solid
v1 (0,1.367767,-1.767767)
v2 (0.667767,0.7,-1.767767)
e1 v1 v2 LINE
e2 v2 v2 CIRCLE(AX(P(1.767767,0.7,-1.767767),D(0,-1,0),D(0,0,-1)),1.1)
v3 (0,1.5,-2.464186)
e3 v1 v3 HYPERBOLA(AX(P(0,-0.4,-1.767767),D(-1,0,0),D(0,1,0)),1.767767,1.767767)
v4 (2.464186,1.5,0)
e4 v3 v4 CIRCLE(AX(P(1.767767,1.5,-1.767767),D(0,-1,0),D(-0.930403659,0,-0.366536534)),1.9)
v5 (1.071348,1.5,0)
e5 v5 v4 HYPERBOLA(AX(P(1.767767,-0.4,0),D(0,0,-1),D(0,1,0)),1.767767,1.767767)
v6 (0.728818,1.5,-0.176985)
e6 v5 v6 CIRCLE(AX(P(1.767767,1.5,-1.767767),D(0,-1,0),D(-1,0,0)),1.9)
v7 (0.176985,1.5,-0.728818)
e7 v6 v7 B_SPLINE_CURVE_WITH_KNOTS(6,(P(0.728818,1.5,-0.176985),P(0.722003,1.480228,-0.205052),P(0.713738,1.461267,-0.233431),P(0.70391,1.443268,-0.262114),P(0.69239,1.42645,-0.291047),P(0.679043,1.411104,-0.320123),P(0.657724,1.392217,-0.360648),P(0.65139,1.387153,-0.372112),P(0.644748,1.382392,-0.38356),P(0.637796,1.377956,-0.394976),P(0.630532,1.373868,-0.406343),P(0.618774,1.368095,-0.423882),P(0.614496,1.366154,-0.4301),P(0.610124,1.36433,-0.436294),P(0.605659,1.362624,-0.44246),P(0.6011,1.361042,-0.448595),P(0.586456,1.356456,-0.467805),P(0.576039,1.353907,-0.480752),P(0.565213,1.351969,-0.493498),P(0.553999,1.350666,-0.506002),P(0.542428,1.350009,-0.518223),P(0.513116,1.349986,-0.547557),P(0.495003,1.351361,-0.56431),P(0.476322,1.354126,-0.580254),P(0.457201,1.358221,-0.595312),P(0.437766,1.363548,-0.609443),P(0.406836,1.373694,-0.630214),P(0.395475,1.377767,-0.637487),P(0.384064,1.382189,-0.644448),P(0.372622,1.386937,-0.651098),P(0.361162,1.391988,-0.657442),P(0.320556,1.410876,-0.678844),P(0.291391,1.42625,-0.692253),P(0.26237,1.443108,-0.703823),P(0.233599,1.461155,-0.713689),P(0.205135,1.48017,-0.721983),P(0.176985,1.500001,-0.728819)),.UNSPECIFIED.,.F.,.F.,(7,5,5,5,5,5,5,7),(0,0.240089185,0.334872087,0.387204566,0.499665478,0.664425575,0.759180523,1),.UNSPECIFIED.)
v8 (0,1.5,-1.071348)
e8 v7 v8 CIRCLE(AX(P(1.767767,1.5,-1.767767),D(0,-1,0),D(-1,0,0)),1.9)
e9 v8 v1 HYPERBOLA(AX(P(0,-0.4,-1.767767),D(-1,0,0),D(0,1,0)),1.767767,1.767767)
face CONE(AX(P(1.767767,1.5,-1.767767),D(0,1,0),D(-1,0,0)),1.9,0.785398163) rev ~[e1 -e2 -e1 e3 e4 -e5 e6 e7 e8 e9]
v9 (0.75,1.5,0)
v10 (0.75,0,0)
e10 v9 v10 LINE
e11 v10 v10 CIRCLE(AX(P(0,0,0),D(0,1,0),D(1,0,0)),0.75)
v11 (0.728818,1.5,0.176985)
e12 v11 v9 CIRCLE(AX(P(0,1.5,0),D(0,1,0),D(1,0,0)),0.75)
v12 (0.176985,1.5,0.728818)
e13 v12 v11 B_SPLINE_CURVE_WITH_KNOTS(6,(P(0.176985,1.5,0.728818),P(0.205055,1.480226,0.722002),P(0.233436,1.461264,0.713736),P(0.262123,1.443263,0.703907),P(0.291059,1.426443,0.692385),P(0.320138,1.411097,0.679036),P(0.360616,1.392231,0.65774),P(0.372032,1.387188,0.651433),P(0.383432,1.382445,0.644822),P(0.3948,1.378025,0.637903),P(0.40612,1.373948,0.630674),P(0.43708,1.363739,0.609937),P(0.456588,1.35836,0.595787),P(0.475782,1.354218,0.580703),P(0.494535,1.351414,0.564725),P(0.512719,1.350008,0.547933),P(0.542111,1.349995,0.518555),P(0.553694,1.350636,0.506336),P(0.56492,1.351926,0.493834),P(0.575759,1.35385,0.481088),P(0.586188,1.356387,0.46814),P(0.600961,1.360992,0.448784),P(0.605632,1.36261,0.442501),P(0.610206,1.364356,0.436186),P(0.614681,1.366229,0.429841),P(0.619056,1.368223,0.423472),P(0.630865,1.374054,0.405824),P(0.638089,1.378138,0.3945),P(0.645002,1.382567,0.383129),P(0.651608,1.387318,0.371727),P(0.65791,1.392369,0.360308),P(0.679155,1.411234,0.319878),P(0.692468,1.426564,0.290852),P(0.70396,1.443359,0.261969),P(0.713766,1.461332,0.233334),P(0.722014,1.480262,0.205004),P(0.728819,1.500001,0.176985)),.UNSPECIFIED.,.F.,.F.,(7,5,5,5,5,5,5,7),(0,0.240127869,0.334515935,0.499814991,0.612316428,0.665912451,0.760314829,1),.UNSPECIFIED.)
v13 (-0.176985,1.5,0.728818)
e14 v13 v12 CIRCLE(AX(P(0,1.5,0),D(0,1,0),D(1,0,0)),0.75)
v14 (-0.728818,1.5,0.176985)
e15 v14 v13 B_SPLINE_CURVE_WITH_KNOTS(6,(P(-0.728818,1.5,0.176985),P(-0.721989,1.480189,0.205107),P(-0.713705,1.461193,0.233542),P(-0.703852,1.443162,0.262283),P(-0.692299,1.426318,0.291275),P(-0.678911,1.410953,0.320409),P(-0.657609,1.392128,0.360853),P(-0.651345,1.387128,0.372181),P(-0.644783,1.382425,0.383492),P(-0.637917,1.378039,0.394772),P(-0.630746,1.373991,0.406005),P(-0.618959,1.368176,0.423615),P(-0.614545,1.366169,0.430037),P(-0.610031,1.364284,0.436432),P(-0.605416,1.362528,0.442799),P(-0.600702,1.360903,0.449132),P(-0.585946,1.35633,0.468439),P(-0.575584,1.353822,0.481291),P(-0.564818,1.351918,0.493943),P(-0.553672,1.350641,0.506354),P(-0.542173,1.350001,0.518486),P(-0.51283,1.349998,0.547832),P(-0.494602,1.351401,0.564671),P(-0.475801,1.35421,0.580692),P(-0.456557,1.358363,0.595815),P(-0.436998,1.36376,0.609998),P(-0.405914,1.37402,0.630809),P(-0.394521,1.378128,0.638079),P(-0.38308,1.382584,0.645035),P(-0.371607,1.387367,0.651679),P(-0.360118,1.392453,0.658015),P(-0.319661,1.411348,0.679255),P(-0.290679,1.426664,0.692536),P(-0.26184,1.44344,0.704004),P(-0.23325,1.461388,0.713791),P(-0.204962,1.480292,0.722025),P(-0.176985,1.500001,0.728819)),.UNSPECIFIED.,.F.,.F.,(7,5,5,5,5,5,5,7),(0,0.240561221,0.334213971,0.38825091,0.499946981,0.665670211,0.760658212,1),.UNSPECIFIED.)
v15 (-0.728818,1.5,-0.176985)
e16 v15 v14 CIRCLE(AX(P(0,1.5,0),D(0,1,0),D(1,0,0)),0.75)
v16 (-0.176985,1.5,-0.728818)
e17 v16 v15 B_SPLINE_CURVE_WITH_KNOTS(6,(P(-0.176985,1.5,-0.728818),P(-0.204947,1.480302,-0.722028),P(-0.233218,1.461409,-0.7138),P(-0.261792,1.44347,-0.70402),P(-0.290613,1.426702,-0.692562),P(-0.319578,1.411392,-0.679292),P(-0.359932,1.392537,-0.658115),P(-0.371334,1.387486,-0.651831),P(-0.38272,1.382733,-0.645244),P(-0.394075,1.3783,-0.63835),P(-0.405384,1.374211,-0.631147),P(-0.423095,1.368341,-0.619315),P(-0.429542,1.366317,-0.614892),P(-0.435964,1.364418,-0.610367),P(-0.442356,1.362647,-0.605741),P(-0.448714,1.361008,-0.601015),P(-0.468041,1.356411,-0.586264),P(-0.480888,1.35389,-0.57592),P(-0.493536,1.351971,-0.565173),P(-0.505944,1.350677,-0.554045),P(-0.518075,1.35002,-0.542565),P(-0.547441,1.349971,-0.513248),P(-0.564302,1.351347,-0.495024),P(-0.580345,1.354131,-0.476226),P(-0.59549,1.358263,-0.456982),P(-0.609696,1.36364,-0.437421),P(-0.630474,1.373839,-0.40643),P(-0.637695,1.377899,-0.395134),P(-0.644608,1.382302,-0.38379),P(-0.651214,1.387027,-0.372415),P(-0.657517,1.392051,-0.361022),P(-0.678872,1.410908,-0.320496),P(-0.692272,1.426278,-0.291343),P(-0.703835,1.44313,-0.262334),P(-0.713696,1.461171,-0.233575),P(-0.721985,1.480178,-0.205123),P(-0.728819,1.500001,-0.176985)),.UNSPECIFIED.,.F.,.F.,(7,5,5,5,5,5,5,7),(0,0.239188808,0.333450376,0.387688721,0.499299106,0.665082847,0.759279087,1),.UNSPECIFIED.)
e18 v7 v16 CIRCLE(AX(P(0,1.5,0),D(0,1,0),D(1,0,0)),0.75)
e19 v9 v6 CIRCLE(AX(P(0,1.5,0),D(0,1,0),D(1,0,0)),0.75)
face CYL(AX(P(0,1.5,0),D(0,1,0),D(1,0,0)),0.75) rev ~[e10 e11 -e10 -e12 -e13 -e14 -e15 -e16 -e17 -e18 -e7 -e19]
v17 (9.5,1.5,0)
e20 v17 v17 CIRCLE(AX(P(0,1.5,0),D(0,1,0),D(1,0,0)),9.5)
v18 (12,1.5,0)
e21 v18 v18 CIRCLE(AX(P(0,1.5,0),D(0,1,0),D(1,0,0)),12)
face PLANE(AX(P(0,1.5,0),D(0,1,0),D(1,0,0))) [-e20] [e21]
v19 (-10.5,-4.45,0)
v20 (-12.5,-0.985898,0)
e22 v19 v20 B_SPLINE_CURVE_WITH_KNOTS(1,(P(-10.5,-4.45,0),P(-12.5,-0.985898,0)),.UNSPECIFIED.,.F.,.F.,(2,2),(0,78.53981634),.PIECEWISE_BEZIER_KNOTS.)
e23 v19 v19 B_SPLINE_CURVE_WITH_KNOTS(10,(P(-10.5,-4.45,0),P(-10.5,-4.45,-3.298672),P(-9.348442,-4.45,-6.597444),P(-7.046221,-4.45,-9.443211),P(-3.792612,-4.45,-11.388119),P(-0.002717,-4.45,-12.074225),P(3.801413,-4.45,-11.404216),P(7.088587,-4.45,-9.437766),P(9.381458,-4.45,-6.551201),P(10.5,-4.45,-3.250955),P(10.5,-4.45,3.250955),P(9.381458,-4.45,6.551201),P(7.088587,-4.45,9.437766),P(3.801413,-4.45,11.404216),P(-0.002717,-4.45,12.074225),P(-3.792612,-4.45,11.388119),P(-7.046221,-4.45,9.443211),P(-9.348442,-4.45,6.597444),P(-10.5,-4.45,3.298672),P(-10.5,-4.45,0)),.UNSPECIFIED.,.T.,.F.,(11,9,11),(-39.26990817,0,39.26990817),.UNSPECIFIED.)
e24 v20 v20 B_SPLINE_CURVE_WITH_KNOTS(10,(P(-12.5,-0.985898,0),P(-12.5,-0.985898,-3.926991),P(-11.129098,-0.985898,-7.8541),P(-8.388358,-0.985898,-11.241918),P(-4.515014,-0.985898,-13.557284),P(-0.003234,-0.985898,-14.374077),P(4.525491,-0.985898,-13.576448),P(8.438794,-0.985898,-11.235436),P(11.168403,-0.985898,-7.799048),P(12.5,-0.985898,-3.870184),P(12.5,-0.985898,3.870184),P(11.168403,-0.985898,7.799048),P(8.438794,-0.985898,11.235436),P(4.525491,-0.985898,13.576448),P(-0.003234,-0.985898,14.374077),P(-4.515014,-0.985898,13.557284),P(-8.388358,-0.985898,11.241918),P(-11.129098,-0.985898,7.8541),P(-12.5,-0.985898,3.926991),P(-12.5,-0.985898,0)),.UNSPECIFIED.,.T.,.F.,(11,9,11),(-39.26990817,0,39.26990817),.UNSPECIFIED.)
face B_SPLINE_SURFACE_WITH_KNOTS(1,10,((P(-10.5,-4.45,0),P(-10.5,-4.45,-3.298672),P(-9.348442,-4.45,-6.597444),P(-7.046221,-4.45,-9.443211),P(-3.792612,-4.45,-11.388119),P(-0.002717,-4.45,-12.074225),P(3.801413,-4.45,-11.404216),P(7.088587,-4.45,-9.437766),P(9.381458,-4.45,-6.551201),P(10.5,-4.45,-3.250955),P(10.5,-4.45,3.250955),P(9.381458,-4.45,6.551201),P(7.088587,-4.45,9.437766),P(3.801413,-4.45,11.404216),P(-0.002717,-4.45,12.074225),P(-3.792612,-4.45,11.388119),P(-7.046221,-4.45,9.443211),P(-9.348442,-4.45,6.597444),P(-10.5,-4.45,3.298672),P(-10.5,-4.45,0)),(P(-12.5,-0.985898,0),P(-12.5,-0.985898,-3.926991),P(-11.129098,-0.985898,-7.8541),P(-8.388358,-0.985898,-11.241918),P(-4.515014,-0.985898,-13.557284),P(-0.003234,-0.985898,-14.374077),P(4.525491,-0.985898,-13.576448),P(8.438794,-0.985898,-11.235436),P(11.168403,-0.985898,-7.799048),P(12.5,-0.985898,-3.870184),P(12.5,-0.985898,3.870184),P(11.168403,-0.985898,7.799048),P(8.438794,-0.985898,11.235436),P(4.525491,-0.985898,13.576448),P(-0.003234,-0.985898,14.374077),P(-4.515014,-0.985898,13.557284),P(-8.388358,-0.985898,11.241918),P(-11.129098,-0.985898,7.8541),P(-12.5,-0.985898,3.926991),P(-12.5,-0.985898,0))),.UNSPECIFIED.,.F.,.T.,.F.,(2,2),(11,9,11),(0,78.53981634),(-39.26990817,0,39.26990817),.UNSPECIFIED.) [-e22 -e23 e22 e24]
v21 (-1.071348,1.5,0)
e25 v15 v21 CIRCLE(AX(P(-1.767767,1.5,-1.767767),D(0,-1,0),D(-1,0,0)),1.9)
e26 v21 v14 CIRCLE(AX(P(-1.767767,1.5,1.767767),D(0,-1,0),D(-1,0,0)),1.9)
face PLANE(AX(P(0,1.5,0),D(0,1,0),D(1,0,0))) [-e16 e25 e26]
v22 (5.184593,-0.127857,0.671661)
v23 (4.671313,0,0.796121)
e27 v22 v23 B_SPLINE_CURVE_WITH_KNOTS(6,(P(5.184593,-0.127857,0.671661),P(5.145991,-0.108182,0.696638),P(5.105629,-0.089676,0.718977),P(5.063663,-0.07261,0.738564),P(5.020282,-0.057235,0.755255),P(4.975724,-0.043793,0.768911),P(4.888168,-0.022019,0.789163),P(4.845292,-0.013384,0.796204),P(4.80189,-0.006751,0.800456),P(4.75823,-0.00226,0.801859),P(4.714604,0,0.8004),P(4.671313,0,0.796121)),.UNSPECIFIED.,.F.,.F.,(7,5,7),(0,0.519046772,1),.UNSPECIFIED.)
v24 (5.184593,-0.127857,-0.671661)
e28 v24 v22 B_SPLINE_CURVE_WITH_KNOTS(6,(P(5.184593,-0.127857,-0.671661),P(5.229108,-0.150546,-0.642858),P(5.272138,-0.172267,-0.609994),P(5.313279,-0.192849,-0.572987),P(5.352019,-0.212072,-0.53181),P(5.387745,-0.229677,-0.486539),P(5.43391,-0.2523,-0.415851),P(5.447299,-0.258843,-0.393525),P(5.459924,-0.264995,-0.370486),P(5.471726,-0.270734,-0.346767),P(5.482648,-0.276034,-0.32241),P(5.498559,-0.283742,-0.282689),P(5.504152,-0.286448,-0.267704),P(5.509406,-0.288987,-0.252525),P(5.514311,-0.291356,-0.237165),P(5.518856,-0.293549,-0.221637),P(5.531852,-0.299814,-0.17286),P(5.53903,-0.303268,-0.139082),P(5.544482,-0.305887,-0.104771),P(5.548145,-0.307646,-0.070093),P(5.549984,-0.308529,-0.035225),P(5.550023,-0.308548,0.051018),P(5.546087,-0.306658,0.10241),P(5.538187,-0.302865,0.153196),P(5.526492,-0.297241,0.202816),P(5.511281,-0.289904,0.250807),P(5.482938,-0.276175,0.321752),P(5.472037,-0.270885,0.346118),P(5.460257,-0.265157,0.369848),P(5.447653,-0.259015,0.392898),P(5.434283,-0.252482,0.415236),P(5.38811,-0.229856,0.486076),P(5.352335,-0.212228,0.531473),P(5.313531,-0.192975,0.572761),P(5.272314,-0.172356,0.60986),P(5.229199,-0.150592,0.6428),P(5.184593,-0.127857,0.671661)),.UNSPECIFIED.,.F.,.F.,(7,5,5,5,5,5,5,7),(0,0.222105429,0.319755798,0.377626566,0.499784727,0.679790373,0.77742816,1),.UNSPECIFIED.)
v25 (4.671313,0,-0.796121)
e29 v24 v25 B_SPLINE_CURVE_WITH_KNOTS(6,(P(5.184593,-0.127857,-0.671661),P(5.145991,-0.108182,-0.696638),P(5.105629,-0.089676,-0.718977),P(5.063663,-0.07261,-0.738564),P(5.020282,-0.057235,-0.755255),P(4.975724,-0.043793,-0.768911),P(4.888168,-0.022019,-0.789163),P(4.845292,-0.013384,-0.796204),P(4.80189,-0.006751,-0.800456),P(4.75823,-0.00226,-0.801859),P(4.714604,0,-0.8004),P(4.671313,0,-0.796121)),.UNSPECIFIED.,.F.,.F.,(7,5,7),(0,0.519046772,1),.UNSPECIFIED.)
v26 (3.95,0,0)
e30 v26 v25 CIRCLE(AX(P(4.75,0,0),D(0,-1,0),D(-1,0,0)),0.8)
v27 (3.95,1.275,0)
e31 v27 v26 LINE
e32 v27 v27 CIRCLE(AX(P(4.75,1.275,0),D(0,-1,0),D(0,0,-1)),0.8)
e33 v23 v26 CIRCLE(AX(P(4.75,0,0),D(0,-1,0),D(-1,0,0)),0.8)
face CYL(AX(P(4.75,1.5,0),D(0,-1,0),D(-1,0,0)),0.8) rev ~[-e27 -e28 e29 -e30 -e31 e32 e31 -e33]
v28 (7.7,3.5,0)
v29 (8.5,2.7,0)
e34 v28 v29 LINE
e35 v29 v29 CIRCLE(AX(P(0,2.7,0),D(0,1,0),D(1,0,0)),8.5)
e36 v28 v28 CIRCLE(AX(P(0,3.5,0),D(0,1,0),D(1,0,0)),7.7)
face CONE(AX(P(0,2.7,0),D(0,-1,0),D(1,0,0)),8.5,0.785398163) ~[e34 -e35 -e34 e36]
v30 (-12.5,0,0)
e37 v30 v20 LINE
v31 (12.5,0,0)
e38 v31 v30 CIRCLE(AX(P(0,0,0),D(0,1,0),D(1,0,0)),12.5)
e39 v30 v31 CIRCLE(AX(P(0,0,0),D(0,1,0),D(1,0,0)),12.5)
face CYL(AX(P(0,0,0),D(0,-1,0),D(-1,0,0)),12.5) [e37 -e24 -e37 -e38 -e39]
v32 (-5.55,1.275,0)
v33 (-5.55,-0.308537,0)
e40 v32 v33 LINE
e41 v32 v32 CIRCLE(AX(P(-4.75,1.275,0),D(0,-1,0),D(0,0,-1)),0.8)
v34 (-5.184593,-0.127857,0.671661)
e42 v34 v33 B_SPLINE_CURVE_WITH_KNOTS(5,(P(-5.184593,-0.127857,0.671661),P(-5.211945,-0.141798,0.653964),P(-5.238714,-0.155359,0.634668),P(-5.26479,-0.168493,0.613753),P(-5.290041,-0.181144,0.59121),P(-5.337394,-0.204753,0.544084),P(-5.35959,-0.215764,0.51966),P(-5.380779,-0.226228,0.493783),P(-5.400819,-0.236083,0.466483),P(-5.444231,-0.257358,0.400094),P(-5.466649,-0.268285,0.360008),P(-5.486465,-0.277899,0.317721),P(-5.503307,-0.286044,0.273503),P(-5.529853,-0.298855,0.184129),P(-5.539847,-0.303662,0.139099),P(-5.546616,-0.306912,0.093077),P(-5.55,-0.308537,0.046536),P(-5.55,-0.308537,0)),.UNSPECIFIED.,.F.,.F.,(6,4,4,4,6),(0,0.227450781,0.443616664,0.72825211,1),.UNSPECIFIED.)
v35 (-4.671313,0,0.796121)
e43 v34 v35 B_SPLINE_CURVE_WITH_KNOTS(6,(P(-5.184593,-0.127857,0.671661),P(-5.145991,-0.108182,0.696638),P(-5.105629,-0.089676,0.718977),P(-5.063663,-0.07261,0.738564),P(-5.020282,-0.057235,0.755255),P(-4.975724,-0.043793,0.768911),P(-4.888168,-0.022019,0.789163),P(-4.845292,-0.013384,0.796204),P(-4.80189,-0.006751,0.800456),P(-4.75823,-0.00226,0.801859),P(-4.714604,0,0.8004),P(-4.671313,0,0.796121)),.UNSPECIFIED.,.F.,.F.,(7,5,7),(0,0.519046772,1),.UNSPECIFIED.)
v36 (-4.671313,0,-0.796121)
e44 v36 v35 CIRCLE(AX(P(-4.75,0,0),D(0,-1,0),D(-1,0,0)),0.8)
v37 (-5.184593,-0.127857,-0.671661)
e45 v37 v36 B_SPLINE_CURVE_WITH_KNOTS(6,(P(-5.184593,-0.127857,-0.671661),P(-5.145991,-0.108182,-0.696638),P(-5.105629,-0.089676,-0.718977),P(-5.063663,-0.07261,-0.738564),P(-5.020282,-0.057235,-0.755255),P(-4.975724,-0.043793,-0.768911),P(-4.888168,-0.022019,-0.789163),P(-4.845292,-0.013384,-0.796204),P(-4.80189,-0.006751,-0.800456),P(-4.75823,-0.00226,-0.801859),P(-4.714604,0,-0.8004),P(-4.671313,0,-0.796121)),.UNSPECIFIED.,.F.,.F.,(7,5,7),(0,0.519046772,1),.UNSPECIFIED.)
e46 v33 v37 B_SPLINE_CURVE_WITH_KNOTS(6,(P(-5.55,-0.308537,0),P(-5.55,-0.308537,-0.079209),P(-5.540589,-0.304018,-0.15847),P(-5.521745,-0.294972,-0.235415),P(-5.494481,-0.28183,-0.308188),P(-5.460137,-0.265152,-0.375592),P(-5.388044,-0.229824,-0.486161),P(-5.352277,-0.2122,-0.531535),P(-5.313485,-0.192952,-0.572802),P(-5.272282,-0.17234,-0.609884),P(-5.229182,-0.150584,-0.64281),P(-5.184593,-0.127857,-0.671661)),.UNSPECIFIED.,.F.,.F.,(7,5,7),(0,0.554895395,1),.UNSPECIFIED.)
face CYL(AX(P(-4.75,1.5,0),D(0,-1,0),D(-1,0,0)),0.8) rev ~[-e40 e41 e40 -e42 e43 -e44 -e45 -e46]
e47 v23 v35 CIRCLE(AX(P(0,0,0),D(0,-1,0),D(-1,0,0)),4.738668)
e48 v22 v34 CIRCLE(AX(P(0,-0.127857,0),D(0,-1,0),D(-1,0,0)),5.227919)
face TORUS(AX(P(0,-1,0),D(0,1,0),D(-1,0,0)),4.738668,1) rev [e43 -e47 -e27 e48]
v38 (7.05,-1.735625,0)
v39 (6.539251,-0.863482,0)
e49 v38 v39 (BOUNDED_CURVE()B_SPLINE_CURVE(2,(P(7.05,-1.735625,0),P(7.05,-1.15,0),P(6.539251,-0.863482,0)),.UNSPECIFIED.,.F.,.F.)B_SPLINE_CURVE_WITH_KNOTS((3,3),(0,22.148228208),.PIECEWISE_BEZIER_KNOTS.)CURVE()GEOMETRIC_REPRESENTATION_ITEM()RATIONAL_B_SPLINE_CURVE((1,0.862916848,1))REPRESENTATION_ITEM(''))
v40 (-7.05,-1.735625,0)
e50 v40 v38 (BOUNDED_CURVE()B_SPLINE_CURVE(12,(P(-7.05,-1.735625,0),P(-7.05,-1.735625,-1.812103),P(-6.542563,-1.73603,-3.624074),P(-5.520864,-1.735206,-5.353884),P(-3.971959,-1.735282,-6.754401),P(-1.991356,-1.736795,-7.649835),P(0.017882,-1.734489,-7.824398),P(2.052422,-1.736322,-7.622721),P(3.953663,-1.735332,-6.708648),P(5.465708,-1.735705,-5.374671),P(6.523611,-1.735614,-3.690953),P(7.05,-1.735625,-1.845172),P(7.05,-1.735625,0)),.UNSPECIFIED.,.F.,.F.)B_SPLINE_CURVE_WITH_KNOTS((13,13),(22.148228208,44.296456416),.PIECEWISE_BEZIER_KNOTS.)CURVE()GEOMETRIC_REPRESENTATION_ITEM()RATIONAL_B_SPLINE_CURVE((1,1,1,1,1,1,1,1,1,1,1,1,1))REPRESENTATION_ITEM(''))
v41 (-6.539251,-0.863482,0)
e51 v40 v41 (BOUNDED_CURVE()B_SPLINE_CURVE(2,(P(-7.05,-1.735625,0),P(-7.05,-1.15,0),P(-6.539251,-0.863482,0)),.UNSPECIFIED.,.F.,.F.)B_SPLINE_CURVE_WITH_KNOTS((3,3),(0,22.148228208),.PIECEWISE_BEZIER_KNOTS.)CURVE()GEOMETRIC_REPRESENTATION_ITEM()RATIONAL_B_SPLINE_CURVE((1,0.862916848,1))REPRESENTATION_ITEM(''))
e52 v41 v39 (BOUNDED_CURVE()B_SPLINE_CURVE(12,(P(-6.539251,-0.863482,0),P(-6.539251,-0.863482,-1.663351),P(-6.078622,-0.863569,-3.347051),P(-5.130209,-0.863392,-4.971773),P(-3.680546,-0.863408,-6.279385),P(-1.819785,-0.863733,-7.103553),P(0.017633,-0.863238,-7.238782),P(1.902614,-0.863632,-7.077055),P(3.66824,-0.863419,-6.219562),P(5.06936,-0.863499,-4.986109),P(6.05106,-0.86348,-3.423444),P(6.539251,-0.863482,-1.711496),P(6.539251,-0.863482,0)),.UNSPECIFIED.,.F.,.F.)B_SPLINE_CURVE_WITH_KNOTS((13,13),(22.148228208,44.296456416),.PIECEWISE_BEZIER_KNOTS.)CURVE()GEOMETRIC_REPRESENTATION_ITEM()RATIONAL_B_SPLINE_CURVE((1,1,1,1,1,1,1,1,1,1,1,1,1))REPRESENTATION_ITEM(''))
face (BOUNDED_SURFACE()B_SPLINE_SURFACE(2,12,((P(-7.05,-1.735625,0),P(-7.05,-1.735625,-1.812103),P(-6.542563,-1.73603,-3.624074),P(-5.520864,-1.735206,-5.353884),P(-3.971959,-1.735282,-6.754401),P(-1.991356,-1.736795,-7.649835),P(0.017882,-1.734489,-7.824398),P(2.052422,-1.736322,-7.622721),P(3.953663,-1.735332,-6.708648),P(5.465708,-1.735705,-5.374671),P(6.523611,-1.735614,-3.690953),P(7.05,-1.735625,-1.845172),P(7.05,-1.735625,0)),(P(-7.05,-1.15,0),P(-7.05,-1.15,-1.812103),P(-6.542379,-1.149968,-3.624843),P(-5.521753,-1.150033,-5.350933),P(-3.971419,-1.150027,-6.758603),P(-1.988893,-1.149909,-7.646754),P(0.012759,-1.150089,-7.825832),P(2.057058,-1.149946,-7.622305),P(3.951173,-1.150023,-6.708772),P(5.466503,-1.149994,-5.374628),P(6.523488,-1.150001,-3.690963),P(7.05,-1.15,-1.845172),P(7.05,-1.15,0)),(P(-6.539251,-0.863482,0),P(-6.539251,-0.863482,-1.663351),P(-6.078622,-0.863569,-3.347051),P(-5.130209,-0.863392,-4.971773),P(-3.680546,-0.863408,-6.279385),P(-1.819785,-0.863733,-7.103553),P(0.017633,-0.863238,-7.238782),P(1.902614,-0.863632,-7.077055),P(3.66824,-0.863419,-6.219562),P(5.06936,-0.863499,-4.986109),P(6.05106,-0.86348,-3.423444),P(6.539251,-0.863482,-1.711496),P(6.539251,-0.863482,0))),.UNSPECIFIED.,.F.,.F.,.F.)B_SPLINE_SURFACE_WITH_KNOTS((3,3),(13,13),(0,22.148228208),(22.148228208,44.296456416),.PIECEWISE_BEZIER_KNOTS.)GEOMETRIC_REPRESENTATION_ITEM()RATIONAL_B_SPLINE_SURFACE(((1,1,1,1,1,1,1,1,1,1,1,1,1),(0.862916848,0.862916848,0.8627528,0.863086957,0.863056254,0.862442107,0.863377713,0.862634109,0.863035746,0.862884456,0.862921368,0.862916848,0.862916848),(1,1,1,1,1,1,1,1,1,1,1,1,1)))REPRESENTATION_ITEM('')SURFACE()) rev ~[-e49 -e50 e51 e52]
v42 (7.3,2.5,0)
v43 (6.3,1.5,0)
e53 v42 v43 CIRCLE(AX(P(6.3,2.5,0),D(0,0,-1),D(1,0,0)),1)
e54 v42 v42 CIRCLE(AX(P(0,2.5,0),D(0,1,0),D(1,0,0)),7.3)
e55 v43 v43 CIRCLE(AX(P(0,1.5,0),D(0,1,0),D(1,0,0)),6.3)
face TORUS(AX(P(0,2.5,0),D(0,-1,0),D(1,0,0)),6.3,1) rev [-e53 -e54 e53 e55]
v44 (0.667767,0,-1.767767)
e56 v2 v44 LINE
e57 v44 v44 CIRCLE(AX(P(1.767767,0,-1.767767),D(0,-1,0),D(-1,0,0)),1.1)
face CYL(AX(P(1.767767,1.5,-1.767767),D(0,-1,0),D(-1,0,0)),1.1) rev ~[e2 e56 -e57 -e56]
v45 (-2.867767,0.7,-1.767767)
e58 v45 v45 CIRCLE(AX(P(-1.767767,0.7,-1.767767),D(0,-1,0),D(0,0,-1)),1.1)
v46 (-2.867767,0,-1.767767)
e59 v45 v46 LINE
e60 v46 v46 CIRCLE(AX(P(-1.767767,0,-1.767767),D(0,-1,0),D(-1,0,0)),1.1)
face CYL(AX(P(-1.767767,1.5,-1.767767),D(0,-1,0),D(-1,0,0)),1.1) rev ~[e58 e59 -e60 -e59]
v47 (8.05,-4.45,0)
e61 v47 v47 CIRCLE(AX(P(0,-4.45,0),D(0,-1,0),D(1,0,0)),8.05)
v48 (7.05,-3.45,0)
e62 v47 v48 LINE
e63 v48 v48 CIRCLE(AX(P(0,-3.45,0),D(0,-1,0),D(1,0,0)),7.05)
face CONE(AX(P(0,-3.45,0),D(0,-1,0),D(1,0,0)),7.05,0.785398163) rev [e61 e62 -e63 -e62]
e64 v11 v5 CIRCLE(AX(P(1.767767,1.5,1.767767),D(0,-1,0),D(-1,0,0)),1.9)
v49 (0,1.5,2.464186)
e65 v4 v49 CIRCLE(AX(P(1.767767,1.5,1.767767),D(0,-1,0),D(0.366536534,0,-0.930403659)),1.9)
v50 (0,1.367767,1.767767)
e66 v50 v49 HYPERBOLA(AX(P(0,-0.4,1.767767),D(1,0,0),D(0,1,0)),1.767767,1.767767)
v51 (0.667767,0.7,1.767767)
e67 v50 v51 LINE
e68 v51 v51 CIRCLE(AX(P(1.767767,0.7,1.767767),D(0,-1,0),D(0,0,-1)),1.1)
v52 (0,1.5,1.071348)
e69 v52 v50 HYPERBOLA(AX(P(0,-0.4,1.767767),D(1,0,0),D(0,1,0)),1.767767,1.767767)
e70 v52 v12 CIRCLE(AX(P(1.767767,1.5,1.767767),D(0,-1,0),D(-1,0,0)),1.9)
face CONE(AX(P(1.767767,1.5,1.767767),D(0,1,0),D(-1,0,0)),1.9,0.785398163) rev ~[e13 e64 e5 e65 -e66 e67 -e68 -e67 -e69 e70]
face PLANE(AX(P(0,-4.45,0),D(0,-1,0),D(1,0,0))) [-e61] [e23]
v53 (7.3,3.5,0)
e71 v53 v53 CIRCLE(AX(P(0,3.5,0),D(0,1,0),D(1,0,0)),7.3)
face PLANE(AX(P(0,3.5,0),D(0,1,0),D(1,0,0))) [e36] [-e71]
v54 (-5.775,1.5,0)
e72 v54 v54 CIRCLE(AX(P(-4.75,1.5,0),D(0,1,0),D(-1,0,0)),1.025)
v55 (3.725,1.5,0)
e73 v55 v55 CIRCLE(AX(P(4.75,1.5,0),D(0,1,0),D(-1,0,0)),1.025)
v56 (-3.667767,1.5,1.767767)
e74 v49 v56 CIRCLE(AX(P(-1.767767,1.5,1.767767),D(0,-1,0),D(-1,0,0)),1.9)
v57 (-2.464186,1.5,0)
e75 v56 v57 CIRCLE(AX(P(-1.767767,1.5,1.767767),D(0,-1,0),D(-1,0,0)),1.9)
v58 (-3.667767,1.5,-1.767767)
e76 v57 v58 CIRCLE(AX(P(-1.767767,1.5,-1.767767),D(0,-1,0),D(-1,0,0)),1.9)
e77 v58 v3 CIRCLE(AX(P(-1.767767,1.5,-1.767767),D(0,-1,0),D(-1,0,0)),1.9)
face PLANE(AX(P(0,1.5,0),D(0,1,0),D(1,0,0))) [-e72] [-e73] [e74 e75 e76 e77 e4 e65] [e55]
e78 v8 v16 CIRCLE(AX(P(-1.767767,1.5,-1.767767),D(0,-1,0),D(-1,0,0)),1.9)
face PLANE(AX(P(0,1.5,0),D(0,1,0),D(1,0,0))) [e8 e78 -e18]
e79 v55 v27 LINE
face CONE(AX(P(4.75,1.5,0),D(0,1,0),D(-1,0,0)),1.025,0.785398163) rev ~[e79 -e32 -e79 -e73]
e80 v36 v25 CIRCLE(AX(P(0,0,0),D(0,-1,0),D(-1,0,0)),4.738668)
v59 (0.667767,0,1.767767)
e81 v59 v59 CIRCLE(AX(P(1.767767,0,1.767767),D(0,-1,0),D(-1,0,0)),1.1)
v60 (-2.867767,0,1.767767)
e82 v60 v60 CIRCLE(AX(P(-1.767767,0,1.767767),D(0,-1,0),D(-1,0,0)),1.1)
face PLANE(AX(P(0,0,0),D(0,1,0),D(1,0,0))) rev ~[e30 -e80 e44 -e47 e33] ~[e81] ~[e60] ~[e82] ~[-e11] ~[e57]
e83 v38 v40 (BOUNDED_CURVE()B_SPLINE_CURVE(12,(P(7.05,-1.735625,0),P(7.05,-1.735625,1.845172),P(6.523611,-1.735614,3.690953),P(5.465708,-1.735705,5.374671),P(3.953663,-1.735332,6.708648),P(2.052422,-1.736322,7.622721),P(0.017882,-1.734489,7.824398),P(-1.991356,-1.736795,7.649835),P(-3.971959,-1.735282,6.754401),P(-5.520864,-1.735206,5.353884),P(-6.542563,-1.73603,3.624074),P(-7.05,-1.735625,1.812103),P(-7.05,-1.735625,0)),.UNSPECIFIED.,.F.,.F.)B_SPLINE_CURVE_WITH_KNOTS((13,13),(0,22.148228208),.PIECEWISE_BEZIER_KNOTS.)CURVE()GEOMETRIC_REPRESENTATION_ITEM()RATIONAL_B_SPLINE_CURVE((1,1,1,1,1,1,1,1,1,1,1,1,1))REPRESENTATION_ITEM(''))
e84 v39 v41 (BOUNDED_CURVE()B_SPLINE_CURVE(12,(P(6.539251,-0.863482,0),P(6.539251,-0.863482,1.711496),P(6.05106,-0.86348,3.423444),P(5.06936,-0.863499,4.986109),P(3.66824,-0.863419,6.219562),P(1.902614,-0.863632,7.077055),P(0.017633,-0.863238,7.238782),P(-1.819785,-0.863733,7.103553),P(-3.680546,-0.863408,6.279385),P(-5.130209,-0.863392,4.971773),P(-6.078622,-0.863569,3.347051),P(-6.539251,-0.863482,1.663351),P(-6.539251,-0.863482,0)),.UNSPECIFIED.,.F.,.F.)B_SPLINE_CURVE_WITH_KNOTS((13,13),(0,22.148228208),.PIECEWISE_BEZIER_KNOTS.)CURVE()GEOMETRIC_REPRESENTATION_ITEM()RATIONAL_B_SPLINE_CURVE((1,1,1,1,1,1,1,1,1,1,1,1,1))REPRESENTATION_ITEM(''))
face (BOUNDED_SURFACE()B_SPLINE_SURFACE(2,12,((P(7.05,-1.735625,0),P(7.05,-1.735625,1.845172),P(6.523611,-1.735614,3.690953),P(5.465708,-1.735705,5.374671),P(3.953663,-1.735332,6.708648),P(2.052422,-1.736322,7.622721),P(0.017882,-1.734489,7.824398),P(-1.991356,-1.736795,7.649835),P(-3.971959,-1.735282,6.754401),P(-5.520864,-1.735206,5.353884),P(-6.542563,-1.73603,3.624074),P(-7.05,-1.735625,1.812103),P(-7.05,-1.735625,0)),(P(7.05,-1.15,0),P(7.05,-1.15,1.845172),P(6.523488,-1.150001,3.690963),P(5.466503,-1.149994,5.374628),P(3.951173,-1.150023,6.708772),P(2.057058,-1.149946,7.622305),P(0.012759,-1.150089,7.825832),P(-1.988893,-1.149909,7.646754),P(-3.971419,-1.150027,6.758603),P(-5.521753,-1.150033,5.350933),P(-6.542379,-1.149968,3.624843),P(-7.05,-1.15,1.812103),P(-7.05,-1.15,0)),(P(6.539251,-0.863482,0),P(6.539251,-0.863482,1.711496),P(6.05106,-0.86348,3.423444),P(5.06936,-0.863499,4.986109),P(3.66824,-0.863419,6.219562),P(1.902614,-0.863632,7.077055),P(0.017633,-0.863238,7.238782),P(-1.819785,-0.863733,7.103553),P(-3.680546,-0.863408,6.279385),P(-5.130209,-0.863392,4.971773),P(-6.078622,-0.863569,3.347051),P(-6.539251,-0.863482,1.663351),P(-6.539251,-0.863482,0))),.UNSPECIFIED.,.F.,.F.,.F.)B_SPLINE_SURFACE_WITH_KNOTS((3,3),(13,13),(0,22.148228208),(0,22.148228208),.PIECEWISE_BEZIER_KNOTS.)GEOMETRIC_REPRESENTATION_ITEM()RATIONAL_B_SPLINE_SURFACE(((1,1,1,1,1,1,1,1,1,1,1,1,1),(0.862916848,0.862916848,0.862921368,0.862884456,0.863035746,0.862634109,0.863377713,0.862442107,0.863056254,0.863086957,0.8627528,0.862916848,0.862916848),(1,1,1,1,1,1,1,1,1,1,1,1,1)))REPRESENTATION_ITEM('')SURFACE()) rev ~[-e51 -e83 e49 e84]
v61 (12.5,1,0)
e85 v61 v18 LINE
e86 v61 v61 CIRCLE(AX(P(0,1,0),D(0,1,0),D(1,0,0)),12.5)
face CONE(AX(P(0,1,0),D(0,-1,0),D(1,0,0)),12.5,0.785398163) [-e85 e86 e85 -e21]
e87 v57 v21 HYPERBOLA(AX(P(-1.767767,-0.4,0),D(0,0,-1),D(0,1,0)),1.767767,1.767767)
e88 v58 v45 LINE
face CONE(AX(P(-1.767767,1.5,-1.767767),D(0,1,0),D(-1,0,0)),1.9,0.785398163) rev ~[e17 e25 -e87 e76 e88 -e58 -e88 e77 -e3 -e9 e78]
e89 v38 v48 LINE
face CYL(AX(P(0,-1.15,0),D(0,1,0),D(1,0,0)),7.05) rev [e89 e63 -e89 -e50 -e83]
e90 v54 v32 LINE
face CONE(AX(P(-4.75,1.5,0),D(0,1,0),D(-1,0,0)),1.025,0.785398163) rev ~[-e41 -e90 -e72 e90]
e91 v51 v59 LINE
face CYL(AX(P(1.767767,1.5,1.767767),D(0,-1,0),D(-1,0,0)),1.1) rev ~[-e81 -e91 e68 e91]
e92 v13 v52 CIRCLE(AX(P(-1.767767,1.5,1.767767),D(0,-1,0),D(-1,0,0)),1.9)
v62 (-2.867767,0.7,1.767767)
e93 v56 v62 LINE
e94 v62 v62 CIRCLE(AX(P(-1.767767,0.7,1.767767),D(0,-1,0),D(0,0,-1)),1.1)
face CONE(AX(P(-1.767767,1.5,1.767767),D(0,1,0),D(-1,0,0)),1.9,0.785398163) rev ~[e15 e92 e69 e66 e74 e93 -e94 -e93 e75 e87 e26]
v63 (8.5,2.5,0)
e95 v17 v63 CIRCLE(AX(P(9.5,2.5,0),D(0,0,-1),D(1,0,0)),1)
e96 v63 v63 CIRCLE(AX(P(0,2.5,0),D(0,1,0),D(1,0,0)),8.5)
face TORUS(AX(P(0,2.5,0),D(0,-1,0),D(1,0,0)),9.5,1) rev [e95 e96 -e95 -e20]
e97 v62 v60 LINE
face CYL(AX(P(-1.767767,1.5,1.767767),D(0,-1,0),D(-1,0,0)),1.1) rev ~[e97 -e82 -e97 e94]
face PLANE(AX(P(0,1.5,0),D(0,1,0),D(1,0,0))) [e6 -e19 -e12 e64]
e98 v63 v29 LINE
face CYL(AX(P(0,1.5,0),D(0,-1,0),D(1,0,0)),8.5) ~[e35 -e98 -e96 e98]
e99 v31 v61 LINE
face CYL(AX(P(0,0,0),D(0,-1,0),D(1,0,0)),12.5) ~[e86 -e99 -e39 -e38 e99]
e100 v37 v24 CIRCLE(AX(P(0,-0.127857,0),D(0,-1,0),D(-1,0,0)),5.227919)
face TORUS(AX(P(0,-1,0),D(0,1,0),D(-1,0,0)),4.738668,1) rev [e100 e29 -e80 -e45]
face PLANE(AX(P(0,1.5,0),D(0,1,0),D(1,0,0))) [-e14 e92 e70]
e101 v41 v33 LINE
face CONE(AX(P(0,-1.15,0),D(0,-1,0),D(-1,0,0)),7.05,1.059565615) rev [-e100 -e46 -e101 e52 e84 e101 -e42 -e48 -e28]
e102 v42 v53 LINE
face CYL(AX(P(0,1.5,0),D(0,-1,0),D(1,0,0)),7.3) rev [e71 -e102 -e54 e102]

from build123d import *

# Parameters (mm, degrees)
SKETCH1_R                                       = 12.5
BOSS_EXTRUDE1_DEPTH                             = 1.5
SKETCH2_R                                       = 0.75
CUT_EXTRUDE1_DEPTH                              = 1
CUT_EXTRUDE1_DEPTH_BACK                         = 2.5
CSK_FOR_M2_FLAT_HEAD_MACHINE_SCREW1_D           = 2.2
CSK_FOR_M2_FLAT_HEAD_MACHINE_SCREW1_DEPTH       = 5
CSK_FOR_M2_FLAT_HEAD_MACHINE_SCREW1_CSINK_D     = 3.8
CSK_FOR_M2_FLAT_HEAD_MACHINE_SCREW1_CSINK_ANGLE = 90
CSK_FOR_M2_FLAT_HEAD_MACHINE_SCREW1_TIP         = 0.660946681
SKETCH7_R                                       = 12.5
SKETCH7_R_2                                     = 7.05
BOSS_EXTRUDE2_DEPTH                             = 3.3
SKETCH15_R                                      = 8.5
SKETCH15_R_2                                    = 7.3
BOSS_EXTRUDE4_DEPTH                             = 2
FILLET1_R                                       = 1
CHAMFER1_SIZE                                   = 0.5
CHAMFER2_SIZE                                   = 1
CHAMFER3_SIZE                                   = 2
CHAMFER3_SIZE2                                  = 3.464101615
M2X0_4_TAPPED_HOLE1_D                           = 1.6
M2X0_4_TAPPED_HOLE1_DEPTH                       = 5.2
M2X0_4_TAPPED_HOLE1_CSINK_D                     = 2.05
M2X0_4_TAPPED_HOLE1_CSINK_ANGLE                 = 90
M2X0_4_TAPPED_HOLE1_TIP                         = 0.480688495
CHAMFER4_SIZE                                   = 0.8


with BuildPart() as part:
    # Sketch1 → Boss-Extrude1 (new body)
    with BuildSketch(Plane(origin=(0, 0, 0), x_dir=(1, 0, 0), z_dir=(0, 1, 0))):
        Circle(SKETCH1_R)
    extrude(amount=BOSS_EXTRUDE1_DEPTH)

    # Sketch2 → Cut-Extrude1 (cut, two sides)
    with BuildSketch(Plane(origin=(0, 1.5, 0), x_dir=(1, 0, 0), z_dir=(0, 1, 0))) as cut_extrude1_sk:
        Circle(SKETCH2_R)
    extrude(amount=CUT_EXTRUDE1_DEPTH, mode=Mode.SUBTRACT)
    extrude(cut_extrude1_sk.sketch, amount=-CUT_EXTRUDE1_DEPTH_BACK, mode=Mode.SUBTRACT)

    # CSK for M2 Flat Head Machine Screw1
    with Locations(Plane(origin=(0, 1.5, 0), x_dir=(1, 0, 0), z_dir=(0, 1, 0))):
        with Locations((-1.767766953, 1.767766953), (1.767766953, 1.767766953), (1.767766953, -1.767766953), (-1.767766953, -1.767766953)):
            CounterSinkHole(CSK_FOR_M2_FLAT_HEAD_MACHINE_SCREW1_D / 2, CSK_FOR_M2_FLAT_HEAD_MACHINE_SCREW1_CSINK_D / 2, depth=CSK_FOR_M2_FLAT_HEAD_MACHINE_SCREW1_DEPTH, counter_sink_angle=CSK_FOR_M2_FLAT_HEAD_MACHINE_SCREW1_CSINK_ANGLE)
            with Locations((0, 0, -(CSK_FOR_M2_FLAT_HEAD_MACHINE_SCREW1_DEPTH + CSK_FOR_M2_FLAT_HEAD_MACHINE_SCREW1_TIP / 2))):  # 118° drill point
                Cone(0, CSK_FOR_M2_FLAT_HEAD_MACHINE_SCREW1_D / 2, CSK_FOR_M2_FLAT_HEAD_MACHINE_SCREW1_TIP, mode=Mode.SUBTRACT)

    # Sketch6 → Revolve1 (revolve)
    with BuildSketch(Plane.XY):
        Polygon((-12.5, 0), (-12.5, -1.15), (-7.05, -1.15), (-5, 0), align=None)
    revolve(axis=Axis((0, 0, 0), (0, -1, 0)))

    # Sketch7 → Boss-Extrude2 (add)
    with BuildSketch(Plane.XZ.offset(1.15)):
        Circle(SKETCH7_R)
        Circle(SKETCH7_R_2, mode=Mode.SUBTRACT)
    extrude(amount=BOSS_EXTRUDE2_DEPTH)

    # Sketch15 → Boss-Extrude4 (add)
    with BuildSketch(Plane(origin=(0, 1.5, 0), x_dir=(1, 0, 0), z_dir=(0, 1, 0))):
        Circle(SKETCH15_R)
        Circle(SKETCH15_R_2, mode=Mode.SUBTRACT)
    extrude(amount=BOSS_EXTRUDE4_DEPTH)

    # Fillet1
    fillet1_edges = [part.edges().sort_by_distance(p)[0] for p in [
        (0, -1.15, 7.05),
        (5, 0, 0),
        (-7.3, 1.5, 0),
        (-8.5, 1.5, 0),
    ]]
    fillet(fillet1_edges, radius=FILLET1_R)

    # Chamfer1
    chamfer1_edges = [part.edges().sort_by_distance(p)[0] for p in [
        (-12.5, 1.5, 0),
    ]]
    chamfer(chamfer1_edges, length=CHAMFER1_SIZE)

    # Chamfer2
    chamfer2_edges = [part.edges().sort_by_distance(p)[0] for p in [
        (-7.05, -4.45, 0),
    ]]
    chamfer(chamfer2_edges, length=CHAMFER2_SIZE)

    # Chamfer3
    chamfer3_edges = [part.edges().sort_by_distance(p)[0] for p in [
        (-12.5, -4.45, 0),
    ]]
    chamfer3_side = [part.faces().sort_by_distance(p)[0] for p in [
        (-8.403553391, -4.45, 0),
    ]]
    chamfer(chamfer3_edges, length=CHAMFER3_SIZE, length2=CHAMFER3_SIZE2, reference=chamfer3_side[0])

    # M2x0.4 Tapped Hole1
    with Locations(Plane(origin=(0, 1.5, 0), x_dir=(1, 0, 0), z_dir=(0, 1, 0))):
        with Locations((-4.75, 0), (4.75, 0)):
            CounterSinkHole(M2X0_4_TAPPED_HOLE1_D / 2, M2X0_4_TAPPED_HOLE1_CSINK_D / 2, depth=M2X0_4_TAPPED_HOLE1_DEPTH, counter_sink_angle=M2X0_4_TAPPED_HOLE1_CSINK_ANGLE)
            with Locations((0, 0, -(M2X0_4_TAPPED_HOLE1_DEPTH + M2X0_4_TAPPED_HOLE1_TIP / 2))):  # 118° drill point
                Cone(0, M2X0_4_TAPPED_HOLE1_D / 2, M2X0_4_TAPPED_HOLE1_TIP, mode=Mode.SUBTRACT)

    # Chamfer4
    chamfer4_edges = [part.edges().sort_by_distance(p)[0] for p in [
        (-8.5, 3.5, 0),
    ]]
    chamfer(chamfer4_edges, length=CHAMFER4_SIZE)


solid = part.part
